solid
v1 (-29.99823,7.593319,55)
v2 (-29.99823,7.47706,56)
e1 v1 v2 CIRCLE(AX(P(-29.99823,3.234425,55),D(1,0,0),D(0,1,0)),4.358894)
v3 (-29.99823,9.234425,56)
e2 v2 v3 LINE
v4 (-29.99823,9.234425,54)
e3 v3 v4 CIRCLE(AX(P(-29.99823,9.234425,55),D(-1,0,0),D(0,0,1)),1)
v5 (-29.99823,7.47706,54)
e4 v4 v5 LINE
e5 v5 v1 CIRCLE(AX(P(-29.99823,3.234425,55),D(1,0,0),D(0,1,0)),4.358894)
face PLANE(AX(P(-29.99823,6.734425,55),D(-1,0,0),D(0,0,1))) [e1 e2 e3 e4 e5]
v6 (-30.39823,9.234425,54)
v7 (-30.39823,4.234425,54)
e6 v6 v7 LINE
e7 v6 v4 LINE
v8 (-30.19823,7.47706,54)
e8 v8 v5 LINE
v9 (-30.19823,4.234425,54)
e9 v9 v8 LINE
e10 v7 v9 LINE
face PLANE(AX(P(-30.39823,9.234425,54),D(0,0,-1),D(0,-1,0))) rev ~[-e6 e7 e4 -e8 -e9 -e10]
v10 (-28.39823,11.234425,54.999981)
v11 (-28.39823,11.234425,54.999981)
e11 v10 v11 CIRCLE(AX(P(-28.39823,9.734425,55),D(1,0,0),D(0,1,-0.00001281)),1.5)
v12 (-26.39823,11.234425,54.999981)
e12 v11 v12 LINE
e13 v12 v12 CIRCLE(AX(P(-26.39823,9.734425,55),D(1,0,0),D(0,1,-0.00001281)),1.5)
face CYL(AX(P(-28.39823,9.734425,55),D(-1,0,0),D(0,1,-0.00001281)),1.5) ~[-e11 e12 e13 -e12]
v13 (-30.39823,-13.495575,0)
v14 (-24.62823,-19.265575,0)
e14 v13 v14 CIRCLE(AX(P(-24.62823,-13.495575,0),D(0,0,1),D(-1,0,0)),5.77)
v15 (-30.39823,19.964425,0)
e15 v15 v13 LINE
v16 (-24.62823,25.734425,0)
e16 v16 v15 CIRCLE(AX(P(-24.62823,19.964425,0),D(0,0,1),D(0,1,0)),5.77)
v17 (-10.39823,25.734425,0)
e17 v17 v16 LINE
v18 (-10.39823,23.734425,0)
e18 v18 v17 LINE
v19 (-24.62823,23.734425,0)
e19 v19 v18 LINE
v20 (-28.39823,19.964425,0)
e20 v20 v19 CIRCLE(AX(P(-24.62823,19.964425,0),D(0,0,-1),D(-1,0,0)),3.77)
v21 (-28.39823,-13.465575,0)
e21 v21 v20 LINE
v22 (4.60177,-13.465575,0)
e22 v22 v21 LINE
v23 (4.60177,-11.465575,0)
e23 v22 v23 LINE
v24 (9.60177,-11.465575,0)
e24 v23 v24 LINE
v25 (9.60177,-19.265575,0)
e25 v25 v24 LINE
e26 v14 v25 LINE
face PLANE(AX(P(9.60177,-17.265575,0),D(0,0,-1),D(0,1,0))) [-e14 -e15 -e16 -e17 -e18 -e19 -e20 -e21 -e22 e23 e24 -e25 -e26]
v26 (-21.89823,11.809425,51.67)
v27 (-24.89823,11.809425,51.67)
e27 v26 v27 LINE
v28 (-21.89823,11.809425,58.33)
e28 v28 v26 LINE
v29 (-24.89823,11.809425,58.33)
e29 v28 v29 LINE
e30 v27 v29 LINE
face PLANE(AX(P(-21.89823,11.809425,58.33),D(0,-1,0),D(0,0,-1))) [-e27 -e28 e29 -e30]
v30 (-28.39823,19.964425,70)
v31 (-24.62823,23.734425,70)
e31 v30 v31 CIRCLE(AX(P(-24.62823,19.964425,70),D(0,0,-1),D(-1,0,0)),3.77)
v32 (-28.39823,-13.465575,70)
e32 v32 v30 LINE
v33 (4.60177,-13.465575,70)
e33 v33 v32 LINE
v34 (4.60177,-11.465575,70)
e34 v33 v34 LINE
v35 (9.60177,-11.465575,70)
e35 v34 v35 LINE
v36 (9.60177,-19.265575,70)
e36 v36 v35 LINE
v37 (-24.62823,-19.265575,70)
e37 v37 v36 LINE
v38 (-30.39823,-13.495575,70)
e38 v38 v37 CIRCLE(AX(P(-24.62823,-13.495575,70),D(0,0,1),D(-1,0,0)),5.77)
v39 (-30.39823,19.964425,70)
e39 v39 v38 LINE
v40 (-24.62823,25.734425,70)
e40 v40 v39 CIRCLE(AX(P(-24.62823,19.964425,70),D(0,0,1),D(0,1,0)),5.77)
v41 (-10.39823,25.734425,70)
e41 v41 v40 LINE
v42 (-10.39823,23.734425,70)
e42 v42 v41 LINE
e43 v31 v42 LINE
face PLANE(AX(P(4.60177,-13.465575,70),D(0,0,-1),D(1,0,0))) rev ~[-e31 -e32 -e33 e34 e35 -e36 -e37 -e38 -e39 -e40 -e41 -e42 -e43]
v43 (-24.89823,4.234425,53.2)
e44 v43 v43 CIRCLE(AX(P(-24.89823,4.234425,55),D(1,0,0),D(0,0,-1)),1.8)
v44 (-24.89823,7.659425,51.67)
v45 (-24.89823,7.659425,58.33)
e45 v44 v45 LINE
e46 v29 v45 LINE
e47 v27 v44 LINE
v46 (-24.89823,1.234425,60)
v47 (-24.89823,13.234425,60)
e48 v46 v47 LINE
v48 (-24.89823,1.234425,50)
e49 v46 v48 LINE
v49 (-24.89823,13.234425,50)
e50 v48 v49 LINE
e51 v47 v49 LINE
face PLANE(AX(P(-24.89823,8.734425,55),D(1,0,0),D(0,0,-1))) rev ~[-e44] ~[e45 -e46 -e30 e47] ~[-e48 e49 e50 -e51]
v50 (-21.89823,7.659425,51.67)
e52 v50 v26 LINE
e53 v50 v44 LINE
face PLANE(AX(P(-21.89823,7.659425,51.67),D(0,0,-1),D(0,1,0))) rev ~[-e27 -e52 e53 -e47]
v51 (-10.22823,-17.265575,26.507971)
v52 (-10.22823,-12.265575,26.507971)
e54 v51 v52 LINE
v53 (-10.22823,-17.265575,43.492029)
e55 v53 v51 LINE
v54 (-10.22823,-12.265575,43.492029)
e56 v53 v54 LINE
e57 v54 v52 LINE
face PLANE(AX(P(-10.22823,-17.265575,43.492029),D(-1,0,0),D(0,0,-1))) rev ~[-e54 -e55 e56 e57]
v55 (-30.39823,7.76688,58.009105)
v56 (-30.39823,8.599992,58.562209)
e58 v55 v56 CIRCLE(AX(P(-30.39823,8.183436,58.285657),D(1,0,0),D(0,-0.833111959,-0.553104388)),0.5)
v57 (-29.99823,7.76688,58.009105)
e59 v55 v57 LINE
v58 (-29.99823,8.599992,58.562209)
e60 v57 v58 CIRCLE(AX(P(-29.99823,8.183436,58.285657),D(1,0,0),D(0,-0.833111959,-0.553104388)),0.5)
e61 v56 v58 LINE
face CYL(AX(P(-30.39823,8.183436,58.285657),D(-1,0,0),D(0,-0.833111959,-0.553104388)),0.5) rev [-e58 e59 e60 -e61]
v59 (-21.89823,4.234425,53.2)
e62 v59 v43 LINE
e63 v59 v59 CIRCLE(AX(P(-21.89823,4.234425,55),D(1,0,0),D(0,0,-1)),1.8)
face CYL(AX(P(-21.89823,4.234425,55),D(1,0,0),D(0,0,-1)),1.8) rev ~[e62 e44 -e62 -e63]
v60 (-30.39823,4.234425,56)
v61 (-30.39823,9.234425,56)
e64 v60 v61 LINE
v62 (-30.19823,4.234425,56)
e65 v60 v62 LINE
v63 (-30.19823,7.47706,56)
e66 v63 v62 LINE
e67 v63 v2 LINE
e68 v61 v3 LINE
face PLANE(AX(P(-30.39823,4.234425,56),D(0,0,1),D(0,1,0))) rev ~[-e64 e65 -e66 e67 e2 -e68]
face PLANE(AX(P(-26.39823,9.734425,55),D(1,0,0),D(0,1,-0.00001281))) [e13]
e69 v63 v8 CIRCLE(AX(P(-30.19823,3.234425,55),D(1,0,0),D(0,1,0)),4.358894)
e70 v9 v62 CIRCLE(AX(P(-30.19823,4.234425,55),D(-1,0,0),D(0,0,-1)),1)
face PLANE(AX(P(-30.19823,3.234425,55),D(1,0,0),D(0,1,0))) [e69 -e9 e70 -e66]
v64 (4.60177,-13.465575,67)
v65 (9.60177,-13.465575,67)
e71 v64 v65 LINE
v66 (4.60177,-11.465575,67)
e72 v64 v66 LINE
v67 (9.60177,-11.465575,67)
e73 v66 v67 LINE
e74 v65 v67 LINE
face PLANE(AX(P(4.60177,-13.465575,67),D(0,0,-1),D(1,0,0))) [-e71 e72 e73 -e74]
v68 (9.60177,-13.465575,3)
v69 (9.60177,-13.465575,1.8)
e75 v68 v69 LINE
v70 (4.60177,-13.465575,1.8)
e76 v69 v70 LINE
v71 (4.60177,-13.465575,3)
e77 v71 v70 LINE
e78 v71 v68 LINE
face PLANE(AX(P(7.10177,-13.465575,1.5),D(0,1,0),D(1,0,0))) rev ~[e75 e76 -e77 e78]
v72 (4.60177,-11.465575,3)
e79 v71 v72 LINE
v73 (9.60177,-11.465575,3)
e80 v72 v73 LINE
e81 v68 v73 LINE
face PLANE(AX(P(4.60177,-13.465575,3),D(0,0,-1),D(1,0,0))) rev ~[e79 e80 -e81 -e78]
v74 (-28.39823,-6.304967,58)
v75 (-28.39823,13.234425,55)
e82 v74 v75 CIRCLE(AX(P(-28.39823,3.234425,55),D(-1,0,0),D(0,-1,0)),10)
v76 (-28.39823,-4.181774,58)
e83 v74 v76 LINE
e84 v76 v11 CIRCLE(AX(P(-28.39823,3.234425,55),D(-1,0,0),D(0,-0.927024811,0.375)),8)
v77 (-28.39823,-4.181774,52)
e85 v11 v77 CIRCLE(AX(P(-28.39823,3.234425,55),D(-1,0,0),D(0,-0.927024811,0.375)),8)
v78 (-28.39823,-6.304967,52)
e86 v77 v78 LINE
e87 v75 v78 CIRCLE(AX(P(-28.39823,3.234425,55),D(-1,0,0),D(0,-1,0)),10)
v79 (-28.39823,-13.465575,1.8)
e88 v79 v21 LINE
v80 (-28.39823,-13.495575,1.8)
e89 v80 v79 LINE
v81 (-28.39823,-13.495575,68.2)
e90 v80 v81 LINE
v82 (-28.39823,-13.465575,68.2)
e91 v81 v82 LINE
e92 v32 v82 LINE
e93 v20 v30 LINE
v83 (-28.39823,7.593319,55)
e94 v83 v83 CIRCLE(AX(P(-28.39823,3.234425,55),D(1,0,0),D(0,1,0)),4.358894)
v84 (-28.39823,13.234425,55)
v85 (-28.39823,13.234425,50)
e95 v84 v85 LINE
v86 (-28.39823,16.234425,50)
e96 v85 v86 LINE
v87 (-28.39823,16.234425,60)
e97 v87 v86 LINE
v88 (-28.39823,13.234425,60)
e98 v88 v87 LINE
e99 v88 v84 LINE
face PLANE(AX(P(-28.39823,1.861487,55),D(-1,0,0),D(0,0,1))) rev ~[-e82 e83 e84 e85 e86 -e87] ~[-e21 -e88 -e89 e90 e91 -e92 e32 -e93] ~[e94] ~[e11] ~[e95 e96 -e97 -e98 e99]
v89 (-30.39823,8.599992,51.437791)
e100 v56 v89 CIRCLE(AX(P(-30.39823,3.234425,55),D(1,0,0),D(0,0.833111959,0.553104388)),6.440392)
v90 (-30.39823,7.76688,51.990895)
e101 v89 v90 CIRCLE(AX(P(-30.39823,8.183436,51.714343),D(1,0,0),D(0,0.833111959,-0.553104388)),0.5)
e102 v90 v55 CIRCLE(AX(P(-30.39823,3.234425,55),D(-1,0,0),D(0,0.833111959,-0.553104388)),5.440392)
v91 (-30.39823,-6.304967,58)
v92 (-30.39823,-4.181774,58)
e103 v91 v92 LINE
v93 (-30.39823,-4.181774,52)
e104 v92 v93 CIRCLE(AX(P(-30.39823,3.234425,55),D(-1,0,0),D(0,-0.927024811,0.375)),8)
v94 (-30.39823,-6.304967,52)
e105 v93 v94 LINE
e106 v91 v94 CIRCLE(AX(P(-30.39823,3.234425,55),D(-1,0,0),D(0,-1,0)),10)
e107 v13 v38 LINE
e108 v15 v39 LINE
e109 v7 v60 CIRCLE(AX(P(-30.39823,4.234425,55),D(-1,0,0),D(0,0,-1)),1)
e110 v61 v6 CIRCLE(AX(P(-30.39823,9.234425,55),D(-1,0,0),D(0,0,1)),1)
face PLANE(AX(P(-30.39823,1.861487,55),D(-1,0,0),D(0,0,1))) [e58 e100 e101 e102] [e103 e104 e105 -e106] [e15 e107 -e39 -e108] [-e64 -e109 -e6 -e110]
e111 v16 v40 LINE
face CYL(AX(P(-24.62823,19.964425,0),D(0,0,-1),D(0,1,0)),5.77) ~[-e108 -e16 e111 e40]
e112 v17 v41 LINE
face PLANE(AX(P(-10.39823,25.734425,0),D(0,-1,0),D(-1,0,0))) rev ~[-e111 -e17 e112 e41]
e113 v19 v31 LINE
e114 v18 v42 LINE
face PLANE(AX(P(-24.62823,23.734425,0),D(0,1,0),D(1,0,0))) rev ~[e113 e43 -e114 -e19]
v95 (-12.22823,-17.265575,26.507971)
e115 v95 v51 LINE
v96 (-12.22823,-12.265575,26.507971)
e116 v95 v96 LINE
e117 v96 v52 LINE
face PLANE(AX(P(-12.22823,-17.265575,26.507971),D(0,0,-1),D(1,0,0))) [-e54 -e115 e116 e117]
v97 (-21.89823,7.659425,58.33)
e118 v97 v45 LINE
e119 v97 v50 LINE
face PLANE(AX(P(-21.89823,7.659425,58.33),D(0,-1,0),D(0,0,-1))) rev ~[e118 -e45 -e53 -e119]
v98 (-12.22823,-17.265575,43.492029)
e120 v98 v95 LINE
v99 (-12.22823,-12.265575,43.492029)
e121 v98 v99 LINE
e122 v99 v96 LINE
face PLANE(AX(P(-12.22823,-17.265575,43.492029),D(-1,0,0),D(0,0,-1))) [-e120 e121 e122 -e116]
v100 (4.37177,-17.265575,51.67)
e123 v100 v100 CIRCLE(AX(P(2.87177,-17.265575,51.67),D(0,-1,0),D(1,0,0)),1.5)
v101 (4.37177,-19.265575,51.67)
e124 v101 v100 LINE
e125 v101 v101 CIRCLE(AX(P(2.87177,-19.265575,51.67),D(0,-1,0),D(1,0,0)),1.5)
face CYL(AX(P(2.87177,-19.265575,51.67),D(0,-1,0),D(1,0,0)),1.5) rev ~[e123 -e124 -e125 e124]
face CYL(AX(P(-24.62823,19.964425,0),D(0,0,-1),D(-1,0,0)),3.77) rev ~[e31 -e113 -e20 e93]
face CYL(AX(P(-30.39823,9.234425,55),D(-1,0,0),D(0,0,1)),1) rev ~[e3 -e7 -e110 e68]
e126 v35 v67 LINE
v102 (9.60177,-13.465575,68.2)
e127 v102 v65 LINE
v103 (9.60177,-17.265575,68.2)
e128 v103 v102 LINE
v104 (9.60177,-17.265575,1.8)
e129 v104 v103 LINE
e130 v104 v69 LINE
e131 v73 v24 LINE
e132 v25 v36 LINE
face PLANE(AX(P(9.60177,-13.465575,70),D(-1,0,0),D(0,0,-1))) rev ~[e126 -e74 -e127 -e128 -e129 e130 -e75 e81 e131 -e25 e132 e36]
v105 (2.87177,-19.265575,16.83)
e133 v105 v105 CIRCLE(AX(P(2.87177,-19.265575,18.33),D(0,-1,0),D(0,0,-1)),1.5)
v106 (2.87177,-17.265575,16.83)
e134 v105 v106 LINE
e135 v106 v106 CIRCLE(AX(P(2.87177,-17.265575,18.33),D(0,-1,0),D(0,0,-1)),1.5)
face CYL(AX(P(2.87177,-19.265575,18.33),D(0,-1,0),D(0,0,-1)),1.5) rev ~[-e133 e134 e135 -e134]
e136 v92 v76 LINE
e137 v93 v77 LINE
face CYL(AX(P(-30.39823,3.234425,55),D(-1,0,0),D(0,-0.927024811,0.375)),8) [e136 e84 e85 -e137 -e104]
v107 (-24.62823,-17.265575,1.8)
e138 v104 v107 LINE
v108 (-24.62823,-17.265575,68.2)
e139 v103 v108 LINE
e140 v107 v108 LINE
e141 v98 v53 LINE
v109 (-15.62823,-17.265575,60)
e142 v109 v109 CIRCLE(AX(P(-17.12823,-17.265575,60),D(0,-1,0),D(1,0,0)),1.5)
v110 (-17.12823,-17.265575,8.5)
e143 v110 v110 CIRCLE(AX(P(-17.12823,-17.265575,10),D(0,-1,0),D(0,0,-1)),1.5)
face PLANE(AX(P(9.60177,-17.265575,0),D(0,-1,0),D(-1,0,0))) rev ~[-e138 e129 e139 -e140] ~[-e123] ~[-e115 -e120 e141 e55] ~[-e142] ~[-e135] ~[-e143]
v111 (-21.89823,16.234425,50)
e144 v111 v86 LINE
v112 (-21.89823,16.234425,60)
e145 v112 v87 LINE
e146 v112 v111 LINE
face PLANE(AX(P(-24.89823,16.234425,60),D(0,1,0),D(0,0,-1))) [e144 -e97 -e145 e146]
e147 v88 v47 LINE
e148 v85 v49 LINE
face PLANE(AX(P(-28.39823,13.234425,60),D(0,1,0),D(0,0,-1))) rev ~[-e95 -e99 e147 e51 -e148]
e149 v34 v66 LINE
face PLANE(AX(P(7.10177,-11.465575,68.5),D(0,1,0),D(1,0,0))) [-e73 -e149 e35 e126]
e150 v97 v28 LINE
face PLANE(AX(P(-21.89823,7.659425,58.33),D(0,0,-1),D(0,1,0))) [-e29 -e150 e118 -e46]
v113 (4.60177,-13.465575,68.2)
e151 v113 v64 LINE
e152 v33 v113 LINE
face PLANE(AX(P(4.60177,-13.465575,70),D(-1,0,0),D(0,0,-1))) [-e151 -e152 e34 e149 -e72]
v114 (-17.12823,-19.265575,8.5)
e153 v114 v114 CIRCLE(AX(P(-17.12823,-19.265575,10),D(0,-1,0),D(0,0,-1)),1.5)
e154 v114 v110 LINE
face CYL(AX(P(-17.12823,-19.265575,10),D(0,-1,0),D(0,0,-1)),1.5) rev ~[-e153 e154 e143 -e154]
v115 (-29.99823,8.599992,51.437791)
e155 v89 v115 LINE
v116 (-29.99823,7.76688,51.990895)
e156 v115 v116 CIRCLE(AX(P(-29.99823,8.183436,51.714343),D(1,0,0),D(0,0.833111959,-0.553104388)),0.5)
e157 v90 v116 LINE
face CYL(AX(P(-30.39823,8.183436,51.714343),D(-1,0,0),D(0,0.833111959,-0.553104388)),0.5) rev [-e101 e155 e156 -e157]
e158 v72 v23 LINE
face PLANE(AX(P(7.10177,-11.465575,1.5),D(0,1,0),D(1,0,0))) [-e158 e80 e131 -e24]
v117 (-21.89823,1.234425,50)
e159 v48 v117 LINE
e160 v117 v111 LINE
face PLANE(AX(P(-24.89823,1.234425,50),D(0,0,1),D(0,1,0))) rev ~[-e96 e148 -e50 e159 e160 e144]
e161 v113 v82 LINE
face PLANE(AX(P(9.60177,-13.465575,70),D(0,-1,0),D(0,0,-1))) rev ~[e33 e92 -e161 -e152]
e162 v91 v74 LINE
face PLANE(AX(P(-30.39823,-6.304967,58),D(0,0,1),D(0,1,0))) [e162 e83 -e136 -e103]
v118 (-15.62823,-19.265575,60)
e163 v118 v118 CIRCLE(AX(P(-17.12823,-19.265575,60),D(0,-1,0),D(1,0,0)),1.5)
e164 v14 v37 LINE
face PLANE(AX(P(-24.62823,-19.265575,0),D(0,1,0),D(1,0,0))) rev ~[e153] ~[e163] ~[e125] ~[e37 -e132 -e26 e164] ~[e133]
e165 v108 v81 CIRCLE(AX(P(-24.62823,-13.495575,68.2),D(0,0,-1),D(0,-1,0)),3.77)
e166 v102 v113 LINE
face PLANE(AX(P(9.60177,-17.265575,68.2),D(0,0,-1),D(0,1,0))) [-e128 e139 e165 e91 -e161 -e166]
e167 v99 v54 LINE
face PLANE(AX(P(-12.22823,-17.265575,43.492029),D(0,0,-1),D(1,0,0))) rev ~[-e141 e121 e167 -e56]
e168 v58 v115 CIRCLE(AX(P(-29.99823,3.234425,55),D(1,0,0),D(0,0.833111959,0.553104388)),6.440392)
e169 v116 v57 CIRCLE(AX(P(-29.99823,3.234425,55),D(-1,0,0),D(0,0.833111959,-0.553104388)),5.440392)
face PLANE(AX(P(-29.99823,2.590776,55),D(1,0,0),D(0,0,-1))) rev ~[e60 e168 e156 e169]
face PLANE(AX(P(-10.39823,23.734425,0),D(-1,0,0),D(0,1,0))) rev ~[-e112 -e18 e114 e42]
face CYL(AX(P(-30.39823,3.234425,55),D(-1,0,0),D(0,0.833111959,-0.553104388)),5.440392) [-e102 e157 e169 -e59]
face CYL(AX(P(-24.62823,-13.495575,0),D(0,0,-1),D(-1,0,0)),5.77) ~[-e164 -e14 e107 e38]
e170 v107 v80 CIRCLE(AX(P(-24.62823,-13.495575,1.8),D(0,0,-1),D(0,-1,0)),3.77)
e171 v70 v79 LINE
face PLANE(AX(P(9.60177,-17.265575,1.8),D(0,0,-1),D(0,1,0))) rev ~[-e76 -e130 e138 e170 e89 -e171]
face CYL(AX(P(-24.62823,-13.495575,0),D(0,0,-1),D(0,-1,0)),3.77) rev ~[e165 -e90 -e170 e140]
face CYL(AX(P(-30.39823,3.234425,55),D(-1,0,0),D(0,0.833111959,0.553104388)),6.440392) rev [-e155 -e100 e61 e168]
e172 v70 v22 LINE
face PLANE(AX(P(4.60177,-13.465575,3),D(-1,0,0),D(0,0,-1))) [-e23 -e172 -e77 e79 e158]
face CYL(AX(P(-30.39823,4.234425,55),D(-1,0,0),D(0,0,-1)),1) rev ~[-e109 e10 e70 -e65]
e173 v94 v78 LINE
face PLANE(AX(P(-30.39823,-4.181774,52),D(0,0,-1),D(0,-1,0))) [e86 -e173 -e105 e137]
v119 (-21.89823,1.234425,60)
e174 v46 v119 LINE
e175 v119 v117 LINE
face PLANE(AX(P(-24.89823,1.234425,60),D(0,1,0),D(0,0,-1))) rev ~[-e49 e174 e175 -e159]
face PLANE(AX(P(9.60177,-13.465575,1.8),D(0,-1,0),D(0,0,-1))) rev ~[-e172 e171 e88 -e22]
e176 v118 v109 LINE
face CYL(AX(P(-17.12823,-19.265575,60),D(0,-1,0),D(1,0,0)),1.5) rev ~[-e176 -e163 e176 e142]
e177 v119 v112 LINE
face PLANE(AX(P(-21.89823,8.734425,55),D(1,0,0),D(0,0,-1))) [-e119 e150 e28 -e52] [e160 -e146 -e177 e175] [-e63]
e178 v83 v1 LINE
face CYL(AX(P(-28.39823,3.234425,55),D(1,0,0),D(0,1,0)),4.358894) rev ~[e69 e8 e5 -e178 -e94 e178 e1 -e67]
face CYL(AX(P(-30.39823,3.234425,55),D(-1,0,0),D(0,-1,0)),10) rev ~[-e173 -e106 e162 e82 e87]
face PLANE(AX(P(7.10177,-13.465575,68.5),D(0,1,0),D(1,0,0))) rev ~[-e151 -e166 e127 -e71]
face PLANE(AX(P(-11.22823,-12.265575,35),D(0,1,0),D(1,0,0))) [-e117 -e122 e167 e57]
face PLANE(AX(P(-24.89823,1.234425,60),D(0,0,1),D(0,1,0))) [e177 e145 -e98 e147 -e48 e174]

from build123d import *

# Parameters (mm, degrees)
BOSS_EXTRUDE1_DEPTH = 70
BOSS_EXTRUDE3_REACH = 86.63
SKETCH3_W           = 1.8
SKETCH3_H           = 3.8
SKETCH4_W           = 5
SKETCH4_H           = 3
BOSS_EXTRUDE4_DEPTH = 2
CUT_EXTRUDE1_REACH  = 90.595
SKETCH5_R           = 1.5
SKETCH7_R           = 10
CUT_EXTRUDE2_DEPTH  = 85.630140132
BOSS_EXTRUDE5_DEPTH = 2
SKETCH10_R          = 4.358893906
CUT_EXTRUDE3_DEPTH  = 1.8
SKETCH9_R           = 1.5
BOSS_EXTRUDE6_DEPTH = 2
SKETCH11_W          = 10
SKETCH11_H          = 3
BOSS_EXTRUDE7_DEPTH = 3.5
SKETCH12_W          = 10
SKETCH12_H          = 15
BOSS_EXTRUDE8_DEPTH = 3
CUT_EXTRUDE4_REACH  = 82.96
SKETCH13_W          = 6.66
SKETCH13_H          = 4.15
CUT_EXTRUDE5_REACH  = 82.96
SKETCH15_R          = 1.8
CUT_EXTRUDE6_DEPTH  = 0.4
SKETCH17_W          = 2
SKETCH17_H          = 16.984057064
BOSS_EXTRUDE9_DEPTH = 5


with BuildPart() as part:
    # Sketch1 → Boss-Extrude1 (new body)
    with BuildSketch(Plane.XY):
        with BuildLine():
            Line((-30.398230088, 19.964424779), (-30.398230088, -13.495575221))
            ThreePointArc((-30.398230088, -13.495575221), (-28.708236216, -17.575581349), (-24.628230088, -19.265575221))
            Line((-24.628230088, -19.265575221), (9.601769912, -19.265575221))
            Line((9.601769912, -19.265575221), (9.601769912, -17.265575221))
            Line((9.601769912, -17.265575221), (-24.628230088, -17.265575221))
            ThreePointArc((-24.628230088, -17.265575221), (-27.294022654, -16.161367786), (-28.398230088, -13.495575221))
            Line((-28.398230088, -13.495575221), (-28.398230088, 19.964424779))
            ThreePointArc((-28.398230088, 19.964424779), (-27.294022654, 22.630217344), (-24.628230088, 23.734424779))
            Line((-24.628230088, 23.734424779), (-10.398230088, 23.734424779))
            Line((-10.398230088, 23.734424779), (-10.398230088, 25.734424779))
            Line((-10.398230088, 25.734424779), (-24.628230088, 25.734424779))
            ThreePointArc((-24.628230088, 25.734424779), (-28.708236216, 24.044430906), (-30.398230088, 19.964424779))
        make_face()
    extrude(amount=BOSS_EXTRUDE1_DEPTH)

    # Sketch3 → Boss-Extrude3 (add, up to next)
    with BuildSketch(Plane(origin=(9.601769912, 0, 0), x_dir=(0, 0, -1), z_dir=(1, 0, 0)), mode=Mode.PRIVATE) as boss_extrude3_sk1:
        with Locations((-69.1, -15.365575221)):
            Rectangle(SKETCH3_W, SKETCH3_H)
    boss_extrude3_tool1 = extrude(boss_extrude3_sk1.sketch, amount=-BOSS_EXTRUDE3_REACH, mode=Mode.PRIVATE) - part.part
    # Sketch3 → Boss-Extrude3 (add, up to next)
    with BuildSketch(Plane(origin=(9.601769912, 0, 0), x_dir=(0, 0, -1), z_dir=(1, 0, 0)), mode=Mode.PRIVATE) as boss_extrude3_sk2:
        with Locations((-0.9, -15.365575221)):
            Rectangle(SKETCH3_W, SKETCH3_H)
    boss_extrude3_tool2 = extrude(boss_extrude3_sk2.sketch, amount=-BOSS_EXTRUDE3_REACH, mode=Mode.PRIVATE) - part.part
    add(boss_extrude3_tool1.solids().sort_by_distance((9.60177, -15.365575, 69.1))[0])
    add(boss_extrude3_tool2.solids().sort_by_distance((9.60177, -15.365575, 0.9))[0])

    # Sketch4 → Boss-Extrude4 (add)
    with BuildSketch(Plane(origin=(0, -13.465575221, 0), x_dir=(1, 0, 0), z_dir=(0, 1, 0))):
        with Locations((7.101769912, -68.5)):
            Rectangle(SKETCH4_W, SKETCH4_H)
        with Locations((7.101769912, -1.5)):
            Rectangle(SKETCH4_W, SKETCH4_H)
    extrude(amount=BOSS_EXTRUDE4_DEPTH)

    # Sketch5 → Cut-Extrude1 (cut, up to next)
    with BuildSketch(Plane(origin=(0, -19.265575221, 0), x_dir=(-1, 0, 0), z_dir=(0, -1, 0)), mode=Mode.PRIVATE) as cut_extrude1_sk1:
        with Locations((17.128230088, -60)):
            Circle(SKETCH5_R)
    cut_extrude1_tool1 = extrude(cut_extrude1_sk1.sketch, amount=-CUT_EXTRUDE1_REACH, mode=Mode.PRIVATE) & part.part
    # Sketch5 → Cut-Extrude1 (cut, up to next)
    with BuildSketch(Plane(origin=(0, -19.265575221, 0), x_dir=(-1, 0, 0), z_dir=(0, -1, 0)), mode=Mode.PRIVATE) as cut_extrude1_sk2:
        with Locations((17.128230088, -10)):
            Circle(SKETCH5_R)
    cut_extrude1_tool2 = extrude(cut_extrude1_sk2.sketch, amount=-CUT_EXTRUDE1_REACH, mode=Mode.PRIVATE) & part.part
    # Sketch5 → Cut-Extrude1 (cut, up to next)
    with BuildSketch(Plane(origin=(0, -19.265575221, 0), x_dir=(-1, 0, 0), z_dir=(0, -1, 0)), mode=Mode.PRIVATE) as cut_extrude1_sk3:
        with Locations((-2.871769912, -51.67)):
            Circle(SKETCH5_R)
    cut_extrude1_tool3 = extrude(cut_extrude1_sk3.sketch, amount=-CUT_EXTRUDE1_REACH, mode=Mode.PRIVATE) & part.part
    # Sketch5 → Cut-Extrude1 (cut, up to next)
    with BuildSketch(Plane(origin=(0, -19.265575221, 0), x_dir=(-1, 0, 0), z_dir=(0, -1, 0)), mode=Mode.PRIVATE) as cut_extrude1_sk4:
        with Locations((-2.871769912, -18.33)):
            Circle(SKETCH5_R)
    cut_extrude1_tool4 = extrude(cut_extrude1_sk4.sketch, amount=-CUT_EXTRUDE1_REACH, mode=Mode.PRIVATE) & part.part
    add(cut_extrude1_tool1.solids().sort_by_distance((-17.12823, -19.265575, 60))[0], mode=Mode.SUBTRACT)
    add(cut_extrude1_tool2.solids().sort_by_distance((-17.12823, -19.265575, 10))[0], mode=Mode.SUBTRACT)
    add(cut_extrude1_tool3.solids().sort_by_distance((2.87177, -19.265575, 51.67))[0], mode=Mode.SUBTRACT)
    add(cut_extrude1_tool4.solids().sort_by_distance((2.87177, -19.265575, 18.33))[0], mode=Mode.SUBTRACT)

    # Sketch7 → Cut-Extrude2 (cut, through all)
    with BuildSketch(Plane.ZY.offset(30.398230088)):
        with Locations((55, 3.234424779)):
            Circle(SKETCH7_R)
    extrude(amount=-CUT_EXTRUDE2_DEPTH, mode=Mode.SUBTRACT)

    # Sketch8 → Boss-Extrude5 (add)
    with BuildSketch(Plane.ZY.offset(30.398230088)):
        with BuildLine():
            Line((52, -4.181773708), (52, -6.304967235))
            ThreePointArc((52, -6.304967235), (55, -6.765575221), (58, -6.304967235))
            Line((58, -6.304967235), (58, -4.181773708))
            ThreePointArc((58, -4.181773708), (55, 11.234424779), (52, -4.181773708))
        make_face()
    extrude(amount=-BOSS_EXTRUDE5_DEPTH)

    # Sketch10 → Cut-Extrude3 (cut)
    with BuildSketch(Plane(origin=(-28.398230088, 0, 0), x_dir=(0, 0, -1), z_dir=(1, 0, 0))):
        with Locations((-55, 3.234424779)):
            Circle(SKETCH10_R)
    extrude(amount=-CUT_EXTRUDE3_DEPTH, mode=Mode.SUBTRACT)

    # Sketch9 → Boss-Extrude6 (add)
    with BuildSketch(Plane(origin=(-28.398230088, 0, 0), x_dir=(0, 0, -1), z_dir=(1, 0, 0))):
        with Locations((-55, 9.734424779)):
            Circle(SKETCH9_R)
    extrude(amount=BOSS_EXTRUDE6_DEPTH)

    # Sketch11 → Boss-Extrude7 (add)
    with BuildSketch(Plane(origin=(-28.398230088, 0, 0), x_dir=(0, 0, -1), z_dir=(1, 0, 0))):
        with Locations((-55, 14.734424779)):
            Rectangle(SKETCH11_W, SKETCH11_H)
    extrude(amount=BOSS_EXTRUDE7_DEPTH)

    # Sketch12 → Boss-Extrude8 (add)
    with BuildSketch(Plane(origin=(-24.898230088, 0, 0), x_dir=(0, 0, -1), z_dir=(1, 0, 0))):
        with Locations((-55, 8.734424779)):
            Rectangle(SKETCH12_W, SKETCH12_H)
    extrude(amount=BOSS_EXTRUDE8_DEPTH)

    # Sketch13 → Cut-Extrude4 (cut, up to next)
    with BuildSketch(Plane(origin=(-21.898230088, 0, 0), x_dir=(0, 0, -1), z_dir=(1, 0, 0)), mode=Mode.PRIVATE) as cut_extrude4_sk1:
        with Locations((-55, 9.734424779)):
            Rectangle(SKETCH13_W, SKETCH13_H)
    cut_extrude4_tool1 = extrude(cut_extrude4_sk1.sketch, amount=-CUT_EXTRUDE4_REACH, mode=Mode.PRIVATE) & part.part
    add(cut_extrude4_tool1.solids().sort_by_distance((-21.89823, 9.734425, 55))[0], mode=Mode.SUBTRACT)

    # Sketch15 → Cut-Extrude5 (cut, up to next)
    with BuildSketch(Plane(origin=(-21.898230088, 0, 0), x_dir=(0, 0, -1), z_dir=(1, 0, 0)), mode=Mode.PRIVATE) as cut_extrude5_sk1:
        with Locations((-55, 4.234424779)):
            Circle(SKETCH15_R)
    cut_extrude5_tool1 = extrude(cut_extrude5_sk1.sketch, amount=-CUT_EXTRUDE5_REACH, mode=Mode.PRIVATE) & part.part
    add(cut_extrude5_tool1.solids().sort_by_distance((-21.89823, 4.234425, 55))[0], mode=Mode.SUBTRACT)

    # Sketch16 → Cut-Extrude6 (cut)
    with BuildSketch(Plane.ZY.offset(30.398230088)):
        with BuildLine():
            Line((54, 9.234424779), (54, 4.234424779))
            ThreePointArc((54, 4.234424779), (55, 3.234424779), (56, 4.234424779))
            Line((56, 4.234424779), (56, 9.234424779))
            ThreePointArc((56, 9.234424779), (55, 10.234424779), (54, 9.234424779))
        make_face()
        with BuildLine():
            ThreePointArc((51.990895344, 7.766880364), (55, -2.205967162), (58.009104656, 7.766880364))
            ThreePointArc((58.009104656, 7.766880364), (57.869100871, 8.459988538), (58.562209044, 8.599992323))
            ThreePointArc((58.562209044, 8.599992323), (55, -3.205967162), (51.437790956, 8.599992323))
            ThreePointArc((51.437790956, 8.599992323), (52.130899129, 8.459988538), (51.990895344, 7.766880364))
        make_face()
    extrude(amount=-CUT_EXTRUDE6_DEPTH, mode=Mode.SUBTRACT)

    # Sketch17 → Boss-Extrude9 (add)
    with BuildSketch(Plane(origin=(0, -17.265575221, 0), x_dir=(1, 0, 0), z_dir=(0, 1, 0))):
        with Locations((-11.228230088, -35)):
            Rectangle(SKETCH17_W, SKETCH17_H)
    extrude(amount=BOSS_EXTRUDE9_DEPTH)


solid = part.part
